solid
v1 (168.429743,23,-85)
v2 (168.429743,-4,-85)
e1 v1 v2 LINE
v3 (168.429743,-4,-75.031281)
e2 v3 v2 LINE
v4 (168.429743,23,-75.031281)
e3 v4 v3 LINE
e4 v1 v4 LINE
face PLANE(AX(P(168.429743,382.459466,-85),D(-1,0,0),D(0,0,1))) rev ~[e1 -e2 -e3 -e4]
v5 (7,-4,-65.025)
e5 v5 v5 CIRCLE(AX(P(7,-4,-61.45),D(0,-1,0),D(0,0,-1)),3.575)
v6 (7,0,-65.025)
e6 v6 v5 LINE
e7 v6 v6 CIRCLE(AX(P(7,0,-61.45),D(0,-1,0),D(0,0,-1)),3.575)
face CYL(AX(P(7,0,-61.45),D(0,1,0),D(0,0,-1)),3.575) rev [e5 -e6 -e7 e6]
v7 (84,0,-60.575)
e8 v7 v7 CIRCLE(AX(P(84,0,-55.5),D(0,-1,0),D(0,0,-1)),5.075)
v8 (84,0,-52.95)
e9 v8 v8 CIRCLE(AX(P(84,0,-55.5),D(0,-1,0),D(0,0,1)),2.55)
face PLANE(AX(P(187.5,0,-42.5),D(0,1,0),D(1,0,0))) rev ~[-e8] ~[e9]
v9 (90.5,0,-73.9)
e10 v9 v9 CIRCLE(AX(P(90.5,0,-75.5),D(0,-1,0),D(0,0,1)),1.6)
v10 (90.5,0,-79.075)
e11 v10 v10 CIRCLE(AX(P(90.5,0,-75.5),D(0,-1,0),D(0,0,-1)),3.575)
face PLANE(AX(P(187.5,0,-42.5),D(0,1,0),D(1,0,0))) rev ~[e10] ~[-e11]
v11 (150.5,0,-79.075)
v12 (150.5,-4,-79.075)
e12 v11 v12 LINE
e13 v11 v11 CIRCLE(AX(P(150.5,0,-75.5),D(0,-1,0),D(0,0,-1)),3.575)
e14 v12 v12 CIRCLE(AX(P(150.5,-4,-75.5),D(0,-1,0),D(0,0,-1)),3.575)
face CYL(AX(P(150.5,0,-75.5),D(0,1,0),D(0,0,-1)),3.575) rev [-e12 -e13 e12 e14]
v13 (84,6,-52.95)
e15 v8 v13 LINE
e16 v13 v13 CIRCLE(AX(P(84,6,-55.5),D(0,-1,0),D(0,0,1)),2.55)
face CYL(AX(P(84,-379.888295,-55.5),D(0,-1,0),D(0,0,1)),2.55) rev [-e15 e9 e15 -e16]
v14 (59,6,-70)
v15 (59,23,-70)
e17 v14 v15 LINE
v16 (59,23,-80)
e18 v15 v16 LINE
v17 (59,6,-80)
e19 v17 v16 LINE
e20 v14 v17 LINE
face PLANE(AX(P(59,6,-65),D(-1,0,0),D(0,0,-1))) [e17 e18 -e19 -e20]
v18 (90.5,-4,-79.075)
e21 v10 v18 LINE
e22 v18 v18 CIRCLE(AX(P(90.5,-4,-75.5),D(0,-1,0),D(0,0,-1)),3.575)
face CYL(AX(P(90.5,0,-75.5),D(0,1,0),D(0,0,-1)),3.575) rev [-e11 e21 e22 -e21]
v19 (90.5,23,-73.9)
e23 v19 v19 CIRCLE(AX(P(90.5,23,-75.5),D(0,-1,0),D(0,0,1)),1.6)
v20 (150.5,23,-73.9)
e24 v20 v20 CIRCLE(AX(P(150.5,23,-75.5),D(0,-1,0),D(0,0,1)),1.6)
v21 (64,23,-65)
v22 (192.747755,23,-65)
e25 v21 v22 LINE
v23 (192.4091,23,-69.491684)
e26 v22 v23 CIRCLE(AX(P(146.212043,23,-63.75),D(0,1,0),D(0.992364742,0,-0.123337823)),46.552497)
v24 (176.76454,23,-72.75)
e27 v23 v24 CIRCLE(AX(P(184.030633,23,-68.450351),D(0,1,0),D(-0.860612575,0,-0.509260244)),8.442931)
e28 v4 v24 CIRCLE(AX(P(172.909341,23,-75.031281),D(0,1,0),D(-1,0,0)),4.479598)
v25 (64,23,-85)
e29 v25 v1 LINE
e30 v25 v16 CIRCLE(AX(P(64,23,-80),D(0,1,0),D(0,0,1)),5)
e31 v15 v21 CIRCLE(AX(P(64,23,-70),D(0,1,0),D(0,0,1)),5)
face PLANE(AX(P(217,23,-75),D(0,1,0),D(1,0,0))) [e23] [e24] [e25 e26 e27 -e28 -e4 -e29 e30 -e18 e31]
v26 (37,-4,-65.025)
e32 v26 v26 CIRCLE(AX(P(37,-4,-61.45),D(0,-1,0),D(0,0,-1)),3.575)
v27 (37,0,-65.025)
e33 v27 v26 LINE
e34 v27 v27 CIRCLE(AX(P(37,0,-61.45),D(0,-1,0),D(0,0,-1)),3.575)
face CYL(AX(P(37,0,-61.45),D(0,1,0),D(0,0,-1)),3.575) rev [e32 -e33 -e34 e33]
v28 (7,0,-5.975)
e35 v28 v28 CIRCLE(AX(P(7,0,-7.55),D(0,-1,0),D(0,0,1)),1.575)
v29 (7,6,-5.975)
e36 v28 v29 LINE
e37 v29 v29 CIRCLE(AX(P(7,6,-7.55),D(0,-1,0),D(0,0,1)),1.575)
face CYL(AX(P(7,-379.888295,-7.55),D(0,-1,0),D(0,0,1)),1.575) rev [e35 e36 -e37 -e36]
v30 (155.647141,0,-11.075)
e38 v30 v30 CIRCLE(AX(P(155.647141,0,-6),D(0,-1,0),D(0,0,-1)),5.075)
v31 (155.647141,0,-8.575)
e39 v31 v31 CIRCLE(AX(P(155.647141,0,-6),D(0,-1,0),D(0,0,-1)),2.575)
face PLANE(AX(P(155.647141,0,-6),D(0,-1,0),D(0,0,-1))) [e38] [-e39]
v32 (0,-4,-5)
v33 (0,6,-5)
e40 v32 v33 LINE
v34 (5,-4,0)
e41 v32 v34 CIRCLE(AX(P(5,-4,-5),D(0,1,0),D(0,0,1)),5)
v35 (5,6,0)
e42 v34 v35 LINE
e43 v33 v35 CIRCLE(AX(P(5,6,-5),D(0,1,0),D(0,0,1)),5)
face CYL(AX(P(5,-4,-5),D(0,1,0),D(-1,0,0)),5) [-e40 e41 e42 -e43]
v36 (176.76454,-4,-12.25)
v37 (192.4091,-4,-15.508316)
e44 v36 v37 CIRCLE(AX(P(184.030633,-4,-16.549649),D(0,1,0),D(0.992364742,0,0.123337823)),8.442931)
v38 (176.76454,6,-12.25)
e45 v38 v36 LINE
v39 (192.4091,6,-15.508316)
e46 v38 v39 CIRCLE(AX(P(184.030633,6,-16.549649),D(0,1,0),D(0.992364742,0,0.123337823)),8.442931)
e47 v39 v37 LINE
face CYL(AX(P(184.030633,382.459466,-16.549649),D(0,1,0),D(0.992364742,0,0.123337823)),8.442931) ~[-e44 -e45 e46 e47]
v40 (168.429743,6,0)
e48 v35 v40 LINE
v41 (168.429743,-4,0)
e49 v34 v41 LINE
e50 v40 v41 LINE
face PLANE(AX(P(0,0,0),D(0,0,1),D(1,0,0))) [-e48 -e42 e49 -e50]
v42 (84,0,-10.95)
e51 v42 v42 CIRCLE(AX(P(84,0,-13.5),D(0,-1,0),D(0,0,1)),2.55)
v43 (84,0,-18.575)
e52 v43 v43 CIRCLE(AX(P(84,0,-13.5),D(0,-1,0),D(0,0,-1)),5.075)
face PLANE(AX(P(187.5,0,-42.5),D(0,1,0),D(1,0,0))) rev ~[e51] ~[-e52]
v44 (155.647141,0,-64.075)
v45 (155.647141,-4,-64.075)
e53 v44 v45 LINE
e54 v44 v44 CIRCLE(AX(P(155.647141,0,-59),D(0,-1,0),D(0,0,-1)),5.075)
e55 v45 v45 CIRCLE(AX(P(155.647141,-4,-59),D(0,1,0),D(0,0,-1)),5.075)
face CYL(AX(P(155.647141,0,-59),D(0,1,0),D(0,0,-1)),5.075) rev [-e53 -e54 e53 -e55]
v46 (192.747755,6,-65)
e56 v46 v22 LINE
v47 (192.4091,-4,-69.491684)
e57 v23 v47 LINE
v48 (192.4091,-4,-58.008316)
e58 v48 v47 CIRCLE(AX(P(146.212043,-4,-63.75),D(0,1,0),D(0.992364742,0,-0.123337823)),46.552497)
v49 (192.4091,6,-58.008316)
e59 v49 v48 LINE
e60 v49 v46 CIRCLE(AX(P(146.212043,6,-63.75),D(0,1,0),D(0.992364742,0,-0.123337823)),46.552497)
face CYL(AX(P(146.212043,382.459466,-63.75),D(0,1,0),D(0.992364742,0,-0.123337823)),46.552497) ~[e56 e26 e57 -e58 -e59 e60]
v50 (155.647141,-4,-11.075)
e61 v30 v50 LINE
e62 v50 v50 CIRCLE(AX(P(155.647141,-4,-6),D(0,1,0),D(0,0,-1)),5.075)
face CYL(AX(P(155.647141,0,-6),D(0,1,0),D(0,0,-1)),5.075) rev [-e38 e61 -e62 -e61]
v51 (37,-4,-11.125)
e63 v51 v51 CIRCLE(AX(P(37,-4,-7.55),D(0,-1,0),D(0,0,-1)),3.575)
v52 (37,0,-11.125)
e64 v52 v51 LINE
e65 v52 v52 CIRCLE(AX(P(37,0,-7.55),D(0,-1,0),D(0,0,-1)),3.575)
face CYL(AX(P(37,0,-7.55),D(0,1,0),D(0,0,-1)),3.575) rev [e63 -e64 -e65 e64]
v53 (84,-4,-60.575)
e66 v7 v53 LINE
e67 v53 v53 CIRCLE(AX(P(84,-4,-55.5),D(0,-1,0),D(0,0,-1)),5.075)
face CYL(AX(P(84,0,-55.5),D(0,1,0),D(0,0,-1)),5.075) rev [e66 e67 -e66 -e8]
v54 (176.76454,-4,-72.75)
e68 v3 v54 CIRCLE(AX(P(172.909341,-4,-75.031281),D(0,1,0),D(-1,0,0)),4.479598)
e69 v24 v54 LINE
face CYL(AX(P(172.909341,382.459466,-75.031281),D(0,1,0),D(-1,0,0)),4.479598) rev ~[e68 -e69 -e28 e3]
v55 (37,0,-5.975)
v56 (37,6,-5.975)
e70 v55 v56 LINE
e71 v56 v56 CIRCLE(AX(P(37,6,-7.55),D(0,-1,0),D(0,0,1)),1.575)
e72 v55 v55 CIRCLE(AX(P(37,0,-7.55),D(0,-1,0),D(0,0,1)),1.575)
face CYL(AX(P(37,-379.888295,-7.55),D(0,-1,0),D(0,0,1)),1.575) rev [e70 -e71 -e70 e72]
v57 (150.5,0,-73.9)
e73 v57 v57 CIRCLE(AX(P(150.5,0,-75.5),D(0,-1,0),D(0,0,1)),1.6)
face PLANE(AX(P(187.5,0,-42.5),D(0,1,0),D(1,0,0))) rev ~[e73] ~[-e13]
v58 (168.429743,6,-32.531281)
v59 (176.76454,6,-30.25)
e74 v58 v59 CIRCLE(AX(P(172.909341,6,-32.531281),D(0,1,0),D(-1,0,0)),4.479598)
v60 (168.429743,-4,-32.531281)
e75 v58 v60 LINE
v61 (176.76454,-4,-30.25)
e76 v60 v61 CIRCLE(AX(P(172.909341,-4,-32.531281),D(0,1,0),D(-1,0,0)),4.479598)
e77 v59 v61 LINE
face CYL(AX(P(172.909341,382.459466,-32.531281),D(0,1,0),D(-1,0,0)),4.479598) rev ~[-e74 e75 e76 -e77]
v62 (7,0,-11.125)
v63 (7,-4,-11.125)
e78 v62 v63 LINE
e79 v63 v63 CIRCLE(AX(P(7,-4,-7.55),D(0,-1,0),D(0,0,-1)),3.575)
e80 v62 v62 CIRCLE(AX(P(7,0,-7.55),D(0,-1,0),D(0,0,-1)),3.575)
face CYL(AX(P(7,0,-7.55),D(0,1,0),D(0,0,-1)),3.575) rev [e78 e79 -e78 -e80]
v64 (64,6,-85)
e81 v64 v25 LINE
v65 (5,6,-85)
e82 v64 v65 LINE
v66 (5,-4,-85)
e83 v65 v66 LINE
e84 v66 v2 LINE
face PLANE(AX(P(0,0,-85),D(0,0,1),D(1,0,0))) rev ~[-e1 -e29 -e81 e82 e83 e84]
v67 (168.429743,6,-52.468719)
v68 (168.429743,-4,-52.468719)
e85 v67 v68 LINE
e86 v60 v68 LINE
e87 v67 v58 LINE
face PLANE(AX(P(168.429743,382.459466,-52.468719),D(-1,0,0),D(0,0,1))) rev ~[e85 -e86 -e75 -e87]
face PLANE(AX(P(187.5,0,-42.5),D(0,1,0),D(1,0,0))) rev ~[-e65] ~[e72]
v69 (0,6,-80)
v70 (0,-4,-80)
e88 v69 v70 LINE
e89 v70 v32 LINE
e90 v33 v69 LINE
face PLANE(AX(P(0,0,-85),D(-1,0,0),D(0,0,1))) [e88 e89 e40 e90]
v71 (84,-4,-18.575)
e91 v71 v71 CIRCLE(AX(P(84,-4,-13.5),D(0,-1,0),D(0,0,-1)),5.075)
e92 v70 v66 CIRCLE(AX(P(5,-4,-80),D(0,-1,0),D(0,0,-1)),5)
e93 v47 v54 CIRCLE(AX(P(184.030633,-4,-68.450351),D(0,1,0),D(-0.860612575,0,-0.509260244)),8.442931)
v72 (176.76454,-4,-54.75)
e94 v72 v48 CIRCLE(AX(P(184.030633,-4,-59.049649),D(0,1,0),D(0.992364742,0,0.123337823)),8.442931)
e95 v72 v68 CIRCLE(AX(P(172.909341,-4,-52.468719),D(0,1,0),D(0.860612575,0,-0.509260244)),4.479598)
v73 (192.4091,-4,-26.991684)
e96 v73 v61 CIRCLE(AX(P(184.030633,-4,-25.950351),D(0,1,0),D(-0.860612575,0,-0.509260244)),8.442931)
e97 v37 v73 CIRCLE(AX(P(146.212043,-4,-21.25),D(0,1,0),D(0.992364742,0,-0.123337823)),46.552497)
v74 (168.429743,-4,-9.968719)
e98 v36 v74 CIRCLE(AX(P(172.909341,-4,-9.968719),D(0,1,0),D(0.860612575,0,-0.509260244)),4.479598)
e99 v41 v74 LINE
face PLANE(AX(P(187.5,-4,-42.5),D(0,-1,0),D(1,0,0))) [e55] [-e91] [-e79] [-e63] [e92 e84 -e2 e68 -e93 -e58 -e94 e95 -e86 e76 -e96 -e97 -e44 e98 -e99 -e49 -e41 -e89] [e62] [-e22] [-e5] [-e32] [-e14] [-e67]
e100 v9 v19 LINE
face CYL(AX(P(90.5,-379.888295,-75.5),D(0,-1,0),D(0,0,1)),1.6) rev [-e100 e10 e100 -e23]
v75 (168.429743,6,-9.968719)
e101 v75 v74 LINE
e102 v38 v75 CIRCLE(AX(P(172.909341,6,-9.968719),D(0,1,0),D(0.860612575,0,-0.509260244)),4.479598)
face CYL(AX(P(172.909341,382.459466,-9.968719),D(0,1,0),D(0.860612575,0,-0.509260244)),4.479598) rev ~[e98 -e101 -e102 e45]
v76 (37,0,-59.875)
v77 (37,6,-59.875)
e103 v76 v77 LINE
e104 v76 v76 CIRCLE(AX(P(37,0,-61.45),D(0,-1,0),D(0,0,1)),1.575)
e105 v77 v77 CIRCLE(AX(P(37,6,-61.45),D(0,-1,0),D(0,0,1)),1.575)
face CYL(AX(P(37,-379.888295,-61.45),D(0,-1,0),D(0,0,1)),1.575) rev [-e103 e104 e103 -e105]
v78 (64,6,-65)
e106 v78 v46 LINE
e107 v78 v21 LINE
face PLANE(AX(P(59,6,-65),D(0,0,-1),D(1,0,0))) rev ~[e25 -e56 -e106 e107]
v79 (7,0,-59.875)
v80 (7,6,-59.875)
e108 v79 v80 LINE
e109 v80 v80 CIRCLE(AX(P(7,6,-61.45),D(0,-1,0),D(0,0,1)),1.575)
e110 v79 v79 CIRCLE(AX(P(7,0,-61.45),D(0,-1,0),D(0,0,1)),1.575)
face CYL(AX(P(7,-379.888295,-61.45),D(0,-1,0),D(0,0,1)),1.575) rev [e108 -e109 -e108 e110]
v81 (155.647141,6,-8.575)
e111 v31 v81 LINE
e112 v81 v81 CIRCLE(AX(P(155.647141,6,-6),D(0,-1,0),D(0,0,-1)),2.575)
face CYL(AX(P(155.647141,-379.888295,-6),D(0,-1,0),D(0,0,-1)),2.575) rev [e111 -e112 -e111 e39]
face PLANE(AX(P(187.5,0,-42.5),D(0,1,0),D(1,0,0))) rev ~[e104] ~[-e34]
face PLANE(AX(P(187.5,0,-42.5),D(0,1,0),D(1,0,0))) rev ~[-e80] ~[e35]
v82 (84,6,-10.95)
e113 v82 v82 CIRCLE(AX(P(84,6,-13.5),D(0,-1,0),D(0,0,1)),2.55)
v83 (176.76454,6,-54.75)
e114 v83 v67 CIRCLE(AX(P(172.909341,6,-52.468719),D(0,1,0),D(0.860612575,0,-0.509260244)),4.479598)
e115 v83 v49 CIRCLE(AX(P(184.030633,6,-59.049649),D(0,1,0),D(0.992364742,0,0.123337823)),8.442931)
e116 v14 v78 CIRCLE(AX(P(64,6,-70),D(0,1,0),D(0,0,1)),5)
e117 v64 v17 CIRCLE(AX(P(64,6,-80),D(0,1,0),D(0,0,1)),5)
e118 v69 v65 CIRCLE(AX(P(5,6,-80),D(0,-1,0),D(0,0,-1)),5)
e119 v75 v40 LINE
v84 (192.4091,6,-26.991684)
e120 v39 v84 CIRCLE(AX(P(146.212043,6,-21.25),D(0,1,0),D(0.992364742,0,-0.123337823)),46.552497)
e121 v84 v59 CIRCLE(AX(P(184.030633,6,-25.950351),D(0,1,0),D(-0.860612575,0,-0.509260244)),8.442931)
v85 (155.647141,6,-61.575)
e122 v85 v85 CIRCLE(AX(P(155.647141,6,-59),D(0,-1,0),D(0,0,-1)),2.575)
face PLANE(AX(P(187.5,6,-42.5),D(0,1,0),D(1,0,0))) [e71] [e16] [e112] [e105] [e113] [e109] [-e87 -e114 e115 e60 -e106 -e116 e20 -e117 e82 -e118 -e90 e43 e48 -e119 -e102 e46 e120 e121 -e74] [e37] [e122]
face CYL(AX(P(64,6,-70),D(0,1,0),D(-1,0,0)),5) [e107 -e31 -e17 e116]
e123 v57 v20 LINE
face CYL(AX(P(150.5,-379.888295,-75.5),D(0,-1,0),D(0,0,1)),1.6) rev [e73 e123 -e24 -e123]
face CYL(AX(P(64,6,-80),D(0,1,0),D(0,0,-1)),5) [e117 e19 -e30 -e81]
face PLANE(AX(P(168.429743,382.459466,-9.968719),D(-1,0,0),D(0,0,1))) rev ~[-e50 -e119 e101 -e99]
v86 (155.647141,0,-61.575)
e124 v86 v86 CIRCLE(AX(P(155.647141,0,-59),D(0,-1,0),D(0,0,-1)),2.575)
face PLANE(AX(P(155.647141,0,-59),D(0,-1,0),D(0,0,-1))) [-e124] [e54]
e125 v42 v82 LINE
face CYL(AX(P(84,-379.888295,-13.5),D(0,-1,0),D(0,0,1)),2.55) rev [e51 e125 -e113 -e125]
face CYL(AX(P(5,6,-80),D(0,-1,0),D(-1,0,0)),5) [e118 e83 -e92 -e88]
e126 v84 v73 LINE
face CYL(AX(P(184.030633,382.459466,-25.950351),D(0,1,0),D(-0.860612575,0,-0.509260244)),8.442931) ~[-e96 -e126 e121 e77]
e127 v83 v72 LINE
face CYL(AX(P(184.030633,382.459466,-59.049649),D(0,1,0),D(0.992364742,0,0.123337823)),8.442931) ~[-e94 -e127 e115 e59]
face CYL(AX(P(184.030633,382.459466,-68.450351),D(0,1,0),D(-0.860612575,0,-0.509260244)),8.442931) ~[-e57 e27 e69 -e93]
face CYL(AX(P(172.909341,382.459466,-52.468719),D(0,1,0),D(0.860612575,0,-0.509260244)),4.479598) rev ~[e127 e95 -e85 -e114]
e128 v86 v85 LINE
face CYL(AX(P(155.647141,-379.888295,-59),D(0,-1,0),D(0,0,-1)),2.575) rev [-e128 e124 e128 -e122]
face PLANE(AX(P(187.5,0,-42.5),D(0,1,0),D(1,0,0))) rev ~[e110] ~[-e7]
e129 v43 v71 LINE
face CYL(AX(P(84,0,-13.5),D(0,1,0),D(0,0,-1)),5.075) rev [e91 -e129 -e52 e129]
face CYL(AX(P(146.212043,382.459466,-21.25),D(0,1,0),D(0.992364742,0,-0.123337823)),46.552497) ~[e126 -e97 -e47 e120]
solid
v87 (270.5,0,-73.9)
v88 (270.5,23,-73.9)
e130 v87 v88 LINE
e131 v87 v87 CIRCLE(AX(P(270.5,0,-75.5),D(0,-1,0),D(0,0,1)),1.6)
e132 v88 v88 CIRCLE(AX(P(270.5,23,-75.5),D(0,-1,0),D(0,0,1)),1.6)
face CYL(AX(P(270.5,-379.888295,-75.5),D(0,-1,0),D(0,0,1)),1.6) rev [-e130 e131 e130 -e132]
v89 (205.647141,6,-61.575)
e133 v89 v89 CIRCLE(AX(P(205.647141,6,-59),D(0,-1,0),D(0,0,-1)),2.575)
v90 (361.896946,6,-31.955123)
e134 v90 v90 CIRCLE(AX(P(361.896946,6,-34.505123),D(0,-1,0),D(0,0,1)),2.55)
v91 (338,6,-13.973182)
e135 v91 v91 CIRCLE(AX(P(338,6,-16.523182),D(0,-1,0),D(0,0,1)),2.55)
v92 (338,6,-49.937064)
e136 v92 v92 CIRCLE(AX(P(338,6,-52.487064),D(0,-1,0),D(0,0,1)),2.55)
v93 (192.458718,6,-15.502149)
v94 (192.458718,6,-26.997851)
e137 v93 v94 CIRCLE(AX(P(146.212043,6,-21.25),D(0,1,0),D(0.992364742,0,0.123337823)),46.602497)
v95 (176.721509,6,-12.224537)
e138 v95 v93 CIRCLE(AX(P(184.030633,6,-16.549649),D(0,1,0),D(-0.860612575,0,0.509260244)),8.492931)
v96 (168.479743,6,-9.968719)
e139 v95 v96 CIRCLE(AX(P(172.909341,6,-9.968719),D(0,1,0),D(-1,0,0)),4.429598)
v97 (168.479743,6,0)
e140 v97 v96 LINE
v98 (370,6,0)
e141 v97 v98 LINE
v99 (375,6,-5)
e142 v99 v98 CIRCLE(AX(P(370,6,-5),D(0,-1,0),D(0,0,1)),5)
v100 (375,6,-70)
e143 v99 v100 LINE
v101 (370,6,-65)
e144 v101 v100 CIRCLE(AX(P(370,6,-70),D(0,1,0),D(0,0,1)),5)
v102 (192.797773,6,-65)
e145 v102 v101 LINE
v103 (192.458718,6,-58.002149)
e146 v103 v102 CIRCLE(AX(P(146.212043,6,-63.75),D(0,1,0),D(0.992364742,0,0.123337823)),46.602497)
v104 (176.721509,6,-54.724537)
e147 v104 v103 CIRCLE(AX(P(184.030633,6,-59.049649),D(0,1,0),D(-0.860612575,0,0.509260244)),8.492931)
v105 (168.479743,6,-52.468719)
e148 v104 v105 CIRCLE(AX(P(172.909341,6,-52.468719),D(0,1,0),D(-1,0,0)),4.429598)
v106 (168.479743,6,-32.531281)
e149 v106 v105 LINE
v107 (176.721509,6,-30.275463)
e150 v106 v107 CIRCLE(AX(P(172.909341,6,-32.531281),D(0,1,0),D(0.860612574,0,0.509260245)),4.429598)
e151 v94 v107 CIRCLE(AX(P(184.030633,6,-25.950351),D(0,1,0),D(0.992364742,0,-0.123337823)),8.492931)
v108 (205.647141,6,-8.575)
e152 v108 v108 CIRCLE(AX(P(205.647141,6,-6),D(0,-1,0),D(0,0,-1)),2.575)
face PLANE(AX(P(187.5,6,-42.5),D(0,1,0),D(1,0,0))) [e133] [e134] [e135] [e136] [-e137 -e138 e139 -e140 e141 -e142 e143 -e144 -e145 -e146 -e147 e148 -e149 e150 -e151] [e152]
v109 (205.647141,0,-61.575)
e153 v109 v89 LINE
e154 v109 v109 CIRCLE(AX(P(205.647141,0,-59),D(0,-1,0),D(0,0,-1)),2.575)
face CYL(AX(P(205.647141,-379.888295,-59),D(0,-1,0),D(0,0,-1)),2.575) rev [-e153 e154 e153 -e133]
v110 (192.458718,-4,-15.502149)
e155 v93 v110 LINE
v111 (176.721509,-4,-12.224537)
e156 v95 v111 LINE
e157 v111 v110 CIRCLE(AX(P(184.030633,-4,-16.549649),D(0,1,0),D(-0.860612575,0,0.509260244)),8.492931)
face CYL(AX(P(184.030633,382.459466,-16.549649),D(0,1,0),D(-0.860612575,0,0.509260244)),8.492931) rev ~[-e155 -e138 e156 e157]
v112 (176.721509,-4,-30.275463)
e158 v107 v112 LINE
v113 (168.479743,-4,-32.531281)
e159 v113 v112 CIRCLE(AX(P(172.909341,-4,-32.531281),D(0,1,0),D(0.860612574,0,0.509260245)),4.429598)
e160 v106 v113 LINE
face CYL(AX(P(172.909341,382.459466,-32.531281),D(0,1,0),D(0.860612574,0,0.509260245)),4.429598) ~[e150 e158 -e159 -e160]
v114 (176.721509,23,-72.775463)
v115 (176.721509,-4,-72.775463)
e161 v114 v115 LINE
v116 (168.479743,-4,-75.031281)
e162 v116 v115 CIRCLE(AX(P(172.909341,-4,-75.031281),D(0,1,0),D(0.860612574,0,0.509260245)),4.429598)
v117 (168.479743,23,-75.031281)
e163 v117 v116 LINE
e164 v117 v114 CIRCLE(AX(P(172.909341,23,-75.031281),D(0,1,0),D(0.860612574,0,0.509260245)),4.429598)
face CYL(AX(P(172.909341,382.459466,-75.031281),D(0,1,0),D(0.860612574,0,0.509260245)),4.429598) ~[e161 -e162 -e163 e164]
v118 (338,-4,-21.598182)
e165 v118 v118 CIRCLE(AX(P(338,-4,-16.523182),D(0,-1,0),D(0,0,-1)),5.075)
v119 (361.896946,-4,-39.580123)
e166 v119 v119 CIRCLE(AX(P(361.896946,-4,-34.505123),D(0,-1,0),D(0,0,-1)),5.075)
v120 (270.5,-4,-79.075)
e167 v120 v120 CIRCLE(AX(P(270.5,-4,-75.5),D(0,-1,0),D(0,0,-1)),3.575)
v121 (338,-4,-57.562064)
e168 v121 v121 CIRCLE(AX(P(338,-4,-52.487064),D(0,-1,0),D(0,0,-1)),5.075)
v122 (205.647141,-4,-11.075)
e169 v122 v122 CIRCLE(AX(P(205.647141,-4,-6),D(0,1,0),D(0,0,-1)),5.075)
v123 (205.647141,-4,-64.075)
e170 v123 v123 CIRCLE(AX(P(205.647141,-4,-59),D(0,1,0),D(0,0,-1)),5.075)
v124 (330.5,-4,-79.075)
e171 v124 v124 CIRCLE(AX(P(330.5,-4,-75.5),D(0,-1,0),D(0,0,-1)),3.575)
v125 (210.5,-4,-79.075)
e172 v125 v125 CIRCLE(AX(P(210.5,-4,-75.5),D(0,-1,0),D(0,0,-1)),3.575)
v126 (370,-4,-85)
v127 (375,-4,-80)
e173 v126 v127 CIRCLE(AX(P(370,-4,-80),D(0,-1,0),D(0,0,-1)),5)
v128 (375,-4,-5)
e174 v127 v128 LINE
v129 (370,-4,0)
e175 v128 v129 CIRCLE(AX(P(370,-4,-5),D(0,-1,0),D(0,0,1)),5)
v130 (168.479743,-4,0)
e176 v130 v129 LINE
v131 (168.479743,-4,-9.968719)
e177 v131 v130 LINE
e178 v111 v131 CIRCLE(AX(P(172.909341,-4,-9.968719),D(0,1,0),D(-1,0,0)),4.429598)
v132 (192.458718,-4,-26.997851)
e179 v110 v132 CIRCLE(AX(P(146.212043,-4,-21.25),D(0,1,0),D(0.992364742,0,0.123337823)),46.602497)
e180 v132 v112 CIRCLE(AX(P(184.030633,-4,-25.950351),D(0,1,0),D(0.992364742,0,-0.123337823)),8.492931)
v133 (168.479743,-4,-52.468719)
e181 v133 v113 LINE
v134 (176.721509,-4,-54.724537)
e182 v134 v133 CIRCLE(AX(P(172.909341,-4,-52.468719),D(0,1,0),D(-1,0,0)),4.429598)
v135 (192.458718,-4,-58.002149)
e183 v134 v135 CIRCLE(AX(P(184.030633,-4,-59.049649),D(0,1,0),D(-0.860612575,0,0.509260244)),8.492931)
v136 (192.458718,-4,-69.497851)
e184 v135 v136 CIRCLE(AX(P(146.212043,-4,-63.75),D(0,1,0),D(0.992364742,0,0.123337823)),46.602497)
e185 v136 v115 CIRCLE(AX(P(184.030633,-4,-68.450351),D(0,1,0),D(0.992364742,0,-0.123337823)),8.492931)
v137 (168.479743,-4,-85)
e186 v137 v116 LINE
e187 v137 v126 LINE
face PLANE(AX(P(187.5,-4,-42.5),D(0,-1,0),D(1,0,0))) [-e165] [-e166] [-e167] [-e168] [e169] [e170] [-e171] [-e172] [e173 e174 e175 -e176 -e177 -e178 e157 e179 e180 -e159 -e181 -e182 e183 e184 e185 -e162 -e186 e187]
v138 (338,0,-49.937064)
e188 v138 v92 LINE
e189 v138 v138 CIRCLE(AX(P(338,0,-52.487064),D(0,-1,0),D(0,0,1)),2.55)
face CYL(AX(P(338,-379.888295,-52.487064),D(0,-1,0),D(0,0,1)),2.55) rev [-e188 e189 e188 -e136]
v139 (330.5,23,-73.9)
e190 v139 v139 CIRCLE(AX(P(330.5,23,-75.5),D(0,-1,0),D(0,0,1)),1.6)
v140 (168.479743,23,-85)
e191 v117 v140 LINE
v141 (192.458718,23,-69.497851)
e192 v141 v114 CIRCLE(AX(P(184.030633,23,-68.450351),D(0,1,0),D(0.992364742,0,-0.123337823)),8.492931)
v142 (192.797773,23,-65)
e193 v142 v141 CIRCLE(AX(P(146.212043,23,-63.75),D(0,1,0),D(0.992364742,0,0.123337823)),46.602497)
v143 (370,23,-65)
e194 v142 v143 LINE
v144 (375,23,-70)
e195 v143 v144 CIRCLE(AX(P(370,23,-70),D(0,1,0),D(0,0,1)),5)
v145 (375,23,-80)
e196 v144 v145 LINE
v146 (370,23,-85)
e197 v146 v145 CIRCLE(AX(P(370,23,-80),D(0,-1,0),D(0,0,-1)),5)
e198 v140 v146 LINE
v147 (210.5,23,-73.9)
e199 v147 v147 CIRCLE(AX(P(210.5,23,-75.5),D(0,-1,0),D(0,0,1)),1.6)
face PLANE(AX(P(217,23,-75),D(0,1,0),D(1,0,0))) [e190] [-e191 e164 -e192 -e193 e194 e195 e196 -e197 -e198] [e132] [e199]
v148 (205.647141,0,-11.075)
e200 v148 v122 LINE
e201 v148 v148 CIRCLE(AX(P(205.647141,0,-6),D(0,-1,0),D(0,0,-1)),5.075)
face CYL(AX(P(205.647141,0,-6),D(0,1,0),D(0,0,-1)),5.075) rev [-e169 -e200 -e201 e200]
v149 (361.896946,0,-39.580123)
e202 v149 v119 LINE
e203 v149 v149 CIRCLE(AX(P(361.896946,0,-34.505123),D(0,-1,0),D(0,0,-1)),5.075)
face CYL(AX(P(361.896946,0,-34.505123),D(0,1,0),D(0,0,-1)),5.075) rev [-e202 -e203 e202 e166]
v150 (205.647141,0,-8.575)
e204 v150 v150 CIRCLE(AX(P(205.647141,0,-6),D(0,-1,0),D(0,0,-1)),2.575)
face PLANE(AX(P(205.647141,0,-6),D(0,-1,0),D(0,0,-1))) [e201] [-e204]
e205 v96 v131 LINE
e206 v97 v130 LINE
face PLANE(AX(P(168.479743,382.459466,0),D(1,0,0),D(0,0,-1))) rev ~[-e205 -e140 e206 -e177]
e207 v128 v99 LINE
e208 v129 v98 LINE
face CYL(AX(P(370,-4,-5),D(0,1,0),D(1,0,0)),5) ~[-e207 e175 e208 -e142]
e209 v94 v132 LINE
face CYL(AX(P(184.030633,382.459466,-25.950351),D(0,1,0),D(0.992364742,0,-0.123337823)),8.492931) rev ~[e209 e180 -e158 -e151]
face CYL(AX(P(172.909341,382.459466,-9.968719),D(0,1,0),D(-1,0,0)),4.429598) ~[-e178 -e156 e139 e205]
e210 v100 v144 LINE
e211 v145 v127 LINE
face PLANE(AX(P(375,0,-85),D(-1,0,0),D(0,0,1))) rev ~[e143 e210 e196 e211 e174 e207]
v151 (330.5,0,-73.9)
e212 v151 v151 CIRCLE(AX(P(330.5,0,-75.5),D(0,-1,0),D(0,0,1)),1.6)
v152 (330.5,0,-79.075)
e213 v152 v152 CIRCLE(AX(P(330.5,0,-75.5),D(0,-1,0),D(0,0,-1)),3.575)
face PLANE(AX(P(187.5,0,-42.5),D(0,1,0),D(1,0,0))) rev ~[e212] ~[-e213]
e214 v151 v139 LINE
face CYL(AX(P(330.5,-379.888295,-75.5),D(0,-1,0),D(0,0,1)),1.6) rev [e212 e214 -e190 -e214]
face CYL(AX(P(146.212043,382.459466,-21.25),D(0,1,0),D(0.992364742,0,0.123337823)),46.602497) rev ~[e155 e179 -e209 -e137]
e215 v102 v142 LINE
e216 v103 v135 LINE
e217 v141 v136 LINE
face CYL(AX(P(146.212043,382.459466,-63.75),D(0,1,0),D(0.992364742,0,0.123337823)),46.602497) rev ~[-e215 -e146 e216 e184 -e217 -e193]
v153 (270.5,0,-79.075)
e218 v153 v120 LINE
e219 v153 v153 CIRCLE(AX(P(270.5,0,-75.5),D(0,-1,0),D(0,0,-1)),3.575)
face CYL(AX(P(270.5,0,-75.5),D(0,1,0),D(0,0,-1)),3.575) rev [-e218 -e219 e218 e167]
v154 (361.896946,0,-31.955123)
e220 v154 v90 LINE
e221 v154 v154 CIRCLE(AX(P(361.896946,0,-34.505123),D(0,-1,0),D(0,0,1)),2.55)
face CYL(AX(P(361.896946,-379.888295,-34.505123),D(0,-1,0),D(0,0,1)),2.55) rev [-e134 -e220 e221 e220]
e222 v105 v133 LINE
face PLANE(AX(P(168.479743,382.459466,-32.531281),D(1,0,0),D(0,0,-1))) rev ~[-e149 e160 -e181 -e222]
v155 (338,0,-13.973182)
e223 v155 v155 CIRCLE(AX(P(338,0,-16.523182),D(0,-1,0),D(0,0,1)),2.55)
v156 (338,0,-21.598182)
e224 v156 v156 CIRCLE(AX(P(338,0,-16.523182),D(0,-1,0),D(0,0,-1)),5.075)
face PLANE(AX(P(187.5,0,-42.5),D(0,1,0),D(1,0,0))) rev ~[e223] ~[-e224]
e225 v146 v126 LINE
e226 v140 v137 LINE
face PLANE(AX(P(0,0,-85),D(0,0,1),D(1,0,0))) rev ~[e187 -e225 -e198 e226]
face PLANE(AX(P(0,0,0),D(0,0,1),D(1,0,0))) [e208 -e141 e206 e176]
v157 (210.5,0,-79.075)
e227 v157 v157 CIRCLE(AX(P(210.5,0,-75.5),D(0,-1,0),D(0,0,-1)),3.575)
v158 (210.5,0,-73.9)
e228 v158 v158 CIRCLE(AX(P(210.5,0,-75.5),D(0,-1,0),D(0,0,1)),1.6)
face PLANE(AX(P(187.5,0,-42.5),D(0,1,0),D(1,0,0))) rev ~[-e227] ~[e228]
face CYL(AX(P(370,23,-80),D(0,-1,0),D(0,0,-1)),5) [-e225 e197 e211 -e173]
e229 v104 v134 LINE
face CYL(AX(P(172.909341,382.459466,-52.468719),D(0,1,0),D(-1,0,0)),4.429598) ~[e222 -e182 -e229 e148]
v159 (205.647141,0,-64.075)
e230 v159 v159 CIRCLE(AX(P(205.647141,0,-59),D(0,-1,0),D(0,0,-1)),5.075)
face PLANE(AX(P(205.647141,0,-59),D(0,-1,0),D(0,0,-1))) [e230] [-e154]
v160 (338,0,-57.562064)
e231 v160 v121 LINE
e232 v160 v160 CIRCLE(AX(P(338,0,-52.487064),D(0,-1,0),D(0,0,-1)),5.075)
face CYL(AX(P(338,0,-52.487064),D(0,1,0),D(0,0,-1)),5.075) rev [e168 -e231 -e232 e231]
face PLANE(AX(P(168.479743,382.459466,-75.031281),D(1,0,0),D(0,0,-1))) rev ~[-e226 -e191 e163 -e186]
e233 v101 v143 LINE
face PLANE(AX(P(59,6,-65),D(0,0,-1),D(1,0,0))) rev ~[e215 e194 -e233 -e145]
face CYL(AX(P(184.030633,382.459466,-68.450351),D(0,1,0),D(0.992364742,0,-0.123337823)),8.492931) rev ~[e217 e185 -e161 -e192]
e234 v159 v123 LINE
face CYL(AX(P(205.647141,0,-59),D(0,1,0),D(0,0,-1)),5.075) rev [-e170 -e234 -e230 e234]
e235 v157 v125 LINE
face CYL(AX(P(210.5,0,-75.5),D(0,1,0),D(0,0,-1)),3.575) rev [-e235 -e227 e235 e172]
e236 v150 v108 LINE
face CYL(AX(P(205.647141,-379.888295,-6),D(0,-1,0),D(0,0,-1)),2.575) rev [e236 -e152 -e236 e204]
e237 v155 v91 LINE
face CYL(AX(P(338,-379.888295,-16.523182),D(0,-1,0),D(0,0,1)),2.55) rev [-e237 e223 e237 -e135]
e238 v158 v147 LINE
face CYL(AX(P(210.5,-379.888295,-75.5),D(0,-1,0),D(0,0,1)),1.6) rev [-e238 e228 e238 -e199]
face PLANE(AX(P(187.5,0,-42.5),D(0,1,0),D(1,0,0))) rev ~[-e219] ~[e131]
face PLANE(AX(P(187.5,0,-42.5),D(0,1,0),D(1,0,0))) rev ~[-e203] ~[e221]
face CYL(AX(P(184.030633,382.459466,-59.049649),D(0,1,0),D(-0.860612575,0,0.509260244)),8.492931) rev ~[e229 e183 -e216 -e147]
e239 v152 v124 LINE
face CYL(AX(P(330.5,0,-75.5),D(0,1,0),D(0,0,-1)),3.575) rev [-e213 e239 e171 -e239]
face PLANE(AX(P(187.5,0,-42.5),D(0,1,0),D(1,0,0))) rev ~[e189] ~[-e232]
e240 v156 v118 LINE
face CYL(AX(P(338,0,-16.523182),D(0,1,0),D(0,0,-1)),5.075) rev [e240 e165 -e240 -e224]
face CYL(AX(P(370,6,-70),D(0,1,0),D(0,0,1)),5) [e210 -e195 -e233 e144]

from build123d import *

# Parameters (mm, degrees)
SKETCH1_W                                    = 375
SKETCH1_H                                    = 85
BOSS_EXTRUDE1_DEPTH                          = 6
SKETCH2_W                                    = 316
SKETCH2_H                                    = 20
BOSS_EXTRUDE3_DEPTH                          = 17
MOUNT_HOLES_DEPTH                            = 385.888295483
MOUNT_HOLES_DEPTH_BACK                       = 385.888295483
SKETCH3_R                                    = 1.575
SKETCH3_R_2                                  = 2.55
SKETCH3_R_3                                  = 1.6
SKETCH4_W                                    = 375
SKETCH4_H                                    = 85
SKETCH4_R                                    = 3.575
SKETCH4_R_2                                  = 5.075
BOSS_EXTRUDE4_DEPTH                          = 4
FILLET1_R                                    = 5
WEIRD_CUT_DEPTH                              = 386.459466092
WEIRD_CUT_DEPTH_BACK                         = 386.459466092
IF_YOU_NO_STAY_I_MAKE_U_STAI_BREH_DEPTH      = 385.888295483
IF_YOU_NO_STAY_I_MAKE_U_STAI_BREH_DEPTH_BACK = 385.888295483
SKETCH8_R                                    = 2.575
YUH_DEPTH                                    = 386.459466092
YUH_DEPTH_BACK                               = 4
SKETCH9_R                                    = 5.075


with BuildPart() as part:
    # Sketch1 → Boss-Extrude1 (new body)
    with BuildSketch(Plane(origin=(0, 0, 0), x_dir=(1, 0, 0), z_dir=(0, 1, 0))):
        with Locations((187.5, 42.5)):
            Rectangle(SKETCH1_W, SKETCH1_H)
    extrude(amount=BOSS_EXTRUDE1_DEPTH)

    # Sketch2 → Boss-Extrude3 (add)
    with BuildSketch(Plane(origin=(0, 6, 0), x_dir=(1, 0, 0), z_dir=(0, 1, 0))):
        with Locations((217, 75)):
            Rectangle(SKETCH2_W, SKETCH2_H)
    extrude(amount=BOSS_EXTRUDE3_DEPTH)

    # Sketch3 → Mount Holes (cut, two sides: drawn at the far end of the back side and taken through both)
    with BuildSketch(Plane(origin=(0, 6, 0), x_dir=(1, 0, 0), z_dir=(0, 1, 0)).offset(-MOUNT_HOLES_DEPTH_BACK)):
        with Locations(Location((7, 61.45, 0), (0, 0, 270))):
            Circle(SKETCH3_R)
        with Locations(Location((7, 7.55, 0), (0, 0, 270))):
            Circle(SKETCH3_R)
        with Locations(Location((37, 7.55, 0), (0, 0, 270))):
            Circle(SKETCH3_R)
        with Locations(Location((37, 61.45, 0), (0, 0, 270))):
            Circle(SKETCH3_R)
        with Locations(Location((84, 55.5, 0), (0, 0, 270))):
            Circle(SKETCH3_R_2)
        with Locations(Location((84, 13.5, 0), (0, 0, 270))):
            Circle(SKETCH3_R_2)
        with Locations(Location((338, 52.487064273, 0), (0, 0, 270))):
            Circle(SKETCH3_R_2)
        with Locations(Location((361.89694593, 34.505122955, 0), (0, 0, 270))):
            Circle(SKETCH3_R_2)
        with Locations(Location((338, 16.523181637, 0), (0, 0, 270))):
            Circle(SKETCH3_R_2)
        with Locations(Location((90.5, 75.5, 0), (0, 0, 270))):
            Circle(SKETCH3_R_3)
        with Locations(Location((150.5, 75.5, 0), (0, 0, 270))):
            Circle(SKETCH3_R_3)
        with Locations(Location((210.5, 75.5, 0), (0, 0, 270))):
            Circle(SKETCH3_R_3)
        with Locations(Location((270.5, 75.5, 0), (0, 0, 270))):
            Circle(SKETCH3_R_3)
        with Locations(Location((330.5, 75.5, 0), (0, 0, 270))):
            Circle(SKETCH3_R_3)
    extrude(amount=MOUNT_HOLES_DEPTH + MOUNT_HOLES_DEPTH_BACK, mode=Mode.SUBTRACT)

    # Sketch4 → Boss-Extrude4 (add)
    with BuildSketch(Plane.XZ):
        with Locations((187.5, -42.5)):
            Rectangle(SKETCH4_W, SKETCH4_H)
        with Locations(Location((7, -7.55, 0), (0, 0, 270))):
            Circle(SKETCH4_R, mode=Mode.SUBTRACT)
        with Locations(Location((37, -7.55, 0), (0, 0, 270))):
            Circle(SKETCH4_R, mode=Mode.SUBTRACT)
        with Locations(Location((84, -13.5, 0), (0, 0, 270))):
            Circle(SKETCH4_R_2, mode=Mode.SUBTRACT)
        with Locations(Location((84, -55.5, 0), (0, 0, 270))):
            Circle(SKETCH4_R_2, mode=Mode.SUBTRACT)
        with Locations(Location((37, -61.45, 0), (0, 0, 270))):
            Circle(SKETCH4_R, mode=Mode.SUBTRACT)
        with Locations(Location((7, -61.45, 0), (0, 0, 270))):
            Circle(SKETCH4_R, mode=Mode.SUBTRACT)
        with Locations(Location((90.5, -75.5, 0), (0, 0, 270))):
            Circle(SKETCH4_R, mode=Mode.SUBTRACT)
        with Locations(Location((150.5, -75.5, 0), (0, 0, 270))):
            Circle(SKETCH4_R, mode=Mode.SUBTRACT)
        with Locations(Location((210.5, -75.5, 0), (0, 0, 270))):
            Circle(SKETCH4_R, mode=Mode.SUBTRACT)
        with Locations(Location((270.5, -75.5, 0), (0, 0, 270))):
            Circle(SKETCH4_R, mode=Mode.SUBTRACT)
        with Locations(Location((330.5, -75.5, 0), (0, 0, 270))):
            Circle(SKETCH4_R, mode=Mode.SUBTRACT)
        with Locations(Location((338, -52.487064273, 0), (0, 0, 270))):
            Circle(SKETCH4_R_2, mode=Mode.SUBTRACT)
        with Locations(Location((361.89694593, -34.505122955, 0), (0, 0, 270))):
            Circle(SKETCH4_R_2, mode=Mode.SUBTRACT)
        with Locations(Location((338, -16.523181637, 0), (0, 0, 270))):
            Circle(SKETCH4_R_2, mode=Mode.SUBTRACT)
    extrude(amount=BOSS_EXTRUDE4_DEPTH)

    # Fillet1
    fillet1_edges = [part.edges().sort_by_distance(p)[0] for p in [
        (59, 14.5, -85),
        (59, 14.5, -65),
        (375, 14.5, -65),
        (0, 1, -85),
        (375, 9.5, -85),
        (375, 1, 0),
        (0, 1, 0),
    ]]
    fillet(fillet1_edges, radius=FILLET1_R)

    # Sketch7 → Weird Cut (cut, two sides: drawn at the far end of the back side and taken through both)
    with BuildSketch(Plane.XZ.offset(4).offset(-WEIRD_CUT_DEPTH_BACK)):
        with BuildLine():
            Line((168.429742835, -9.968718608), (168.429742835, 0))
            Line((168.429742835, 0), (168.479742835, 0))
            Line((168.479742835, 0), (168.479742835, -9.968718608))
            ThreePointArc((168.479742835, -9.968718608), (171.739946469, -14.241172009), (176.721509375, -12.224536988))
            ThreePointArc((176.721509375, -12.224536988), (185.762309536, -8.235133349), (192.458717923, -15.502149495))
            ThreePointArc((192.458717923, -15.502149495), (192.814540004, -21.25), (192.458717923, -26.997850505))
            ThreePointArc((192.458717923, -26.997850505), (185.762309536, -34.264866651), (176.721509375, -30.275463012))
            ThreePointArc((176.721509375, -30.275463012), (171.739946469, -28.258827991), (168.479742835, -32.531281392))
            Line((168.479742835, -32.531281392), (168.479742835, -52.468718608))
            ThreePointArc((168.479742835, -52.468718608), (171.739946469, -56.741172009), (176.721509375, -54.724536988))
            ThreePointArc((176.721509375, -54.724536988), (185.762309536, -50.735133349), (192.458717923, -58.002149495))
            ThreePointArc((192.458717923, -58.002149495), (192.814540004, -63.75), (192.458717923, -69.497850505))
            ThreePointArc((192.458717923, -69.497850505), (185.762309536, -76.764866651), (176.721509375, -72.775463012))
            ThreePointArc((176.721509375, -72.775463012), (171.739946469, -70.758827991), (168.479742835, -75.031281392))
            Line((168.479742835, -75.031281392), (168.479742835, -85))
            Line((168.479742835, -85), (168.429742835, -85))
            Line((168.429742835, -85), (168.429742835, -75.031281392))
            ThreePointArc((168.429742835, -75.031281392), (171.726746686, -70.710601797), (176.764540004, -72.75))
            ThreePointArc((176.764540004, -72.75), (185.752114723, -76.715917026), (192.409099686, -69.491683614))
            ThreePointArc((192.409099686, -69.491683614), (192.764540004, -63.75), (192.409099686, -58.008316386))
            ThreePointArc((192.409099686, -58.008316386), (185.752114723, -50.784082974), (176.764540004, -54.75))
            ThreePointArc((176.764540004, -54.75), (171.726746686, -56.789398203), (168.429742835, -52.468718608))
            Line((168.429742835, -52.468718608), (168.429742835, -32.531281392))
            ThreePointArc((168.429742835, -32.531281392), (171.726746686, -28.210601797), (176.764540004, -30.25))
            ThreePointArc((176.764540004, -30.25), (185.752114723, -34.215917026), (192.409099686, -26.991683614))
            ThreePointArc((192.409099686, -26.991683614), (192.764540004, -21.25), (192.409099686, -15.508316386))
            ThreePointArc((192.409099686, -15.508316386), (185.752114723, -8.284082974), (176.764540004, -12.25))
            ThreePointArc((176.764540004, -12.25), (171.726746686, -14.289398203), (168.429742835, -9.968718608))
        make_face()
    extrude(amount=WEIRD_CUT_DEPTH + WEIRD_CUT_DEPTH_BACK, mode=Mode.SUBTRACT)


with BuildPart() as weird_cut_piece_1:
    # of the separate pieces the step leaves, piece 1, a body of its own (weird_cut_pieces)
    add(part.part.solids().sort_by_distance((168.479742835, -4, 0))[0])


with BuildPart() as weird_cut_piece_2:
    # of the separate pieces the step leaves, piece 2, a body of its own (weird_cut_pieces)
    add(part.part.solids().sort_by_distance((5, 6, 0))[0])


with BuildPart() as if_you_no_stay_i_make_u_stai_breh_tool:
    # Sketch8 → If you no stay i make u stai breh (new, two sides: drawn at the far end of the back side and taken through both)
    with BuildSketch(Plane(origin=(0, 6, 0), x_dir=(1, 0, 0), z_dir=(0, 1, 0)).offset(-IF_YOU_NO_STAY_I_MAKE_U_STAI_BREH_DEPTH_BACK)):
        with Locations(Location((205.64714142, 59, 0), (0, 0, 90))):
            Circle(SKETCH8_R)
        with Locations(Location((155.64714142, 59, 0), (0, 0, 90))):
            Circle(SKETCH8_R)
        with Locations(Location((205.64714142, 6, 0), (0, 0, 90))):
            Circle(SKETCH8_R)
        with Locations(Location((155.64714142, 6, 0), (0, 0, 90))):
            Circle(SKETCH8_R)
    extrude(amount=IF_YOU_NO_STAY_I_MAKE_U_STAI_BREH_DEPTH + IF_YOU_NO_STAY_I_MAKE_U_STAI_BREH_DEPTH_BACK)


with BuildPart() as weird_cut_piece_1_1:
    add(weird_cut_piece_1.part)

    # If you no stay i make u stai breh: cut by if_you_no_stay_i_make_u_stai_breh_tool
    add(if_you_no_stay_i_make_u_stai_breh_tool.part, mode=Mode.SUBTRACT)


with BuildPart() as weird_cut_piece_2_1:
    add(weird_cut_piece_2.part)

    # If you no stay i make u stai breh: cut by if_you_no_stay_i_make_u_stai_breh_tool
    add(if_you_no_stay_i_make_u_stai_breh_tool.part, mode=Mode.SUBTRACT)


with BuildPart() as yuh_tool:
    # Sketch9 → yuh (new, two sides: drawn at the far end of the back side and taken through both)
    with BuildSketch(Plane.XZ.offset(4).offset(-YUH_DEPTH_BACK)):
        with Locations(Location((155.64714142, -6, 0), (0, 0, 270))):
            Circle(SKETCH9_R)
        with Locations(Location((205.64714142, -6, 0), (0, 0, 270))):
            Circle(SKETCH9_R)
        with Locations(Location((205.64714142, -59, 0), (0, 0, 270))):
            Circle(SKETCH9_R)
        with Locations(Location((155.64714142, -59, 0), (0, 0, 270))):
            Circle(SKETCH9_R)
    extrude(amount=YUH_DEPTH + YUH_DEPTH_BACK)


with BuildPart() as weird_cut_piece_1_2:
    add(weird_cut_piece_1_1.part)

    # yuh: cut by yuh_tool
    add(yuh_tool.part, mode=Mode.SUBTRACT)


with BuildPart() as weird_cut_piece_2_2:
    add(weird_cut_piece_2_1.part)

    # yuh: cut by yuh_tool
    add(yuh_tool.part, mode=Mode.SUBTRACT)


solid = Compound([weird_cut_piece_1_2.part, weird_cut_piece_2_2.part])
